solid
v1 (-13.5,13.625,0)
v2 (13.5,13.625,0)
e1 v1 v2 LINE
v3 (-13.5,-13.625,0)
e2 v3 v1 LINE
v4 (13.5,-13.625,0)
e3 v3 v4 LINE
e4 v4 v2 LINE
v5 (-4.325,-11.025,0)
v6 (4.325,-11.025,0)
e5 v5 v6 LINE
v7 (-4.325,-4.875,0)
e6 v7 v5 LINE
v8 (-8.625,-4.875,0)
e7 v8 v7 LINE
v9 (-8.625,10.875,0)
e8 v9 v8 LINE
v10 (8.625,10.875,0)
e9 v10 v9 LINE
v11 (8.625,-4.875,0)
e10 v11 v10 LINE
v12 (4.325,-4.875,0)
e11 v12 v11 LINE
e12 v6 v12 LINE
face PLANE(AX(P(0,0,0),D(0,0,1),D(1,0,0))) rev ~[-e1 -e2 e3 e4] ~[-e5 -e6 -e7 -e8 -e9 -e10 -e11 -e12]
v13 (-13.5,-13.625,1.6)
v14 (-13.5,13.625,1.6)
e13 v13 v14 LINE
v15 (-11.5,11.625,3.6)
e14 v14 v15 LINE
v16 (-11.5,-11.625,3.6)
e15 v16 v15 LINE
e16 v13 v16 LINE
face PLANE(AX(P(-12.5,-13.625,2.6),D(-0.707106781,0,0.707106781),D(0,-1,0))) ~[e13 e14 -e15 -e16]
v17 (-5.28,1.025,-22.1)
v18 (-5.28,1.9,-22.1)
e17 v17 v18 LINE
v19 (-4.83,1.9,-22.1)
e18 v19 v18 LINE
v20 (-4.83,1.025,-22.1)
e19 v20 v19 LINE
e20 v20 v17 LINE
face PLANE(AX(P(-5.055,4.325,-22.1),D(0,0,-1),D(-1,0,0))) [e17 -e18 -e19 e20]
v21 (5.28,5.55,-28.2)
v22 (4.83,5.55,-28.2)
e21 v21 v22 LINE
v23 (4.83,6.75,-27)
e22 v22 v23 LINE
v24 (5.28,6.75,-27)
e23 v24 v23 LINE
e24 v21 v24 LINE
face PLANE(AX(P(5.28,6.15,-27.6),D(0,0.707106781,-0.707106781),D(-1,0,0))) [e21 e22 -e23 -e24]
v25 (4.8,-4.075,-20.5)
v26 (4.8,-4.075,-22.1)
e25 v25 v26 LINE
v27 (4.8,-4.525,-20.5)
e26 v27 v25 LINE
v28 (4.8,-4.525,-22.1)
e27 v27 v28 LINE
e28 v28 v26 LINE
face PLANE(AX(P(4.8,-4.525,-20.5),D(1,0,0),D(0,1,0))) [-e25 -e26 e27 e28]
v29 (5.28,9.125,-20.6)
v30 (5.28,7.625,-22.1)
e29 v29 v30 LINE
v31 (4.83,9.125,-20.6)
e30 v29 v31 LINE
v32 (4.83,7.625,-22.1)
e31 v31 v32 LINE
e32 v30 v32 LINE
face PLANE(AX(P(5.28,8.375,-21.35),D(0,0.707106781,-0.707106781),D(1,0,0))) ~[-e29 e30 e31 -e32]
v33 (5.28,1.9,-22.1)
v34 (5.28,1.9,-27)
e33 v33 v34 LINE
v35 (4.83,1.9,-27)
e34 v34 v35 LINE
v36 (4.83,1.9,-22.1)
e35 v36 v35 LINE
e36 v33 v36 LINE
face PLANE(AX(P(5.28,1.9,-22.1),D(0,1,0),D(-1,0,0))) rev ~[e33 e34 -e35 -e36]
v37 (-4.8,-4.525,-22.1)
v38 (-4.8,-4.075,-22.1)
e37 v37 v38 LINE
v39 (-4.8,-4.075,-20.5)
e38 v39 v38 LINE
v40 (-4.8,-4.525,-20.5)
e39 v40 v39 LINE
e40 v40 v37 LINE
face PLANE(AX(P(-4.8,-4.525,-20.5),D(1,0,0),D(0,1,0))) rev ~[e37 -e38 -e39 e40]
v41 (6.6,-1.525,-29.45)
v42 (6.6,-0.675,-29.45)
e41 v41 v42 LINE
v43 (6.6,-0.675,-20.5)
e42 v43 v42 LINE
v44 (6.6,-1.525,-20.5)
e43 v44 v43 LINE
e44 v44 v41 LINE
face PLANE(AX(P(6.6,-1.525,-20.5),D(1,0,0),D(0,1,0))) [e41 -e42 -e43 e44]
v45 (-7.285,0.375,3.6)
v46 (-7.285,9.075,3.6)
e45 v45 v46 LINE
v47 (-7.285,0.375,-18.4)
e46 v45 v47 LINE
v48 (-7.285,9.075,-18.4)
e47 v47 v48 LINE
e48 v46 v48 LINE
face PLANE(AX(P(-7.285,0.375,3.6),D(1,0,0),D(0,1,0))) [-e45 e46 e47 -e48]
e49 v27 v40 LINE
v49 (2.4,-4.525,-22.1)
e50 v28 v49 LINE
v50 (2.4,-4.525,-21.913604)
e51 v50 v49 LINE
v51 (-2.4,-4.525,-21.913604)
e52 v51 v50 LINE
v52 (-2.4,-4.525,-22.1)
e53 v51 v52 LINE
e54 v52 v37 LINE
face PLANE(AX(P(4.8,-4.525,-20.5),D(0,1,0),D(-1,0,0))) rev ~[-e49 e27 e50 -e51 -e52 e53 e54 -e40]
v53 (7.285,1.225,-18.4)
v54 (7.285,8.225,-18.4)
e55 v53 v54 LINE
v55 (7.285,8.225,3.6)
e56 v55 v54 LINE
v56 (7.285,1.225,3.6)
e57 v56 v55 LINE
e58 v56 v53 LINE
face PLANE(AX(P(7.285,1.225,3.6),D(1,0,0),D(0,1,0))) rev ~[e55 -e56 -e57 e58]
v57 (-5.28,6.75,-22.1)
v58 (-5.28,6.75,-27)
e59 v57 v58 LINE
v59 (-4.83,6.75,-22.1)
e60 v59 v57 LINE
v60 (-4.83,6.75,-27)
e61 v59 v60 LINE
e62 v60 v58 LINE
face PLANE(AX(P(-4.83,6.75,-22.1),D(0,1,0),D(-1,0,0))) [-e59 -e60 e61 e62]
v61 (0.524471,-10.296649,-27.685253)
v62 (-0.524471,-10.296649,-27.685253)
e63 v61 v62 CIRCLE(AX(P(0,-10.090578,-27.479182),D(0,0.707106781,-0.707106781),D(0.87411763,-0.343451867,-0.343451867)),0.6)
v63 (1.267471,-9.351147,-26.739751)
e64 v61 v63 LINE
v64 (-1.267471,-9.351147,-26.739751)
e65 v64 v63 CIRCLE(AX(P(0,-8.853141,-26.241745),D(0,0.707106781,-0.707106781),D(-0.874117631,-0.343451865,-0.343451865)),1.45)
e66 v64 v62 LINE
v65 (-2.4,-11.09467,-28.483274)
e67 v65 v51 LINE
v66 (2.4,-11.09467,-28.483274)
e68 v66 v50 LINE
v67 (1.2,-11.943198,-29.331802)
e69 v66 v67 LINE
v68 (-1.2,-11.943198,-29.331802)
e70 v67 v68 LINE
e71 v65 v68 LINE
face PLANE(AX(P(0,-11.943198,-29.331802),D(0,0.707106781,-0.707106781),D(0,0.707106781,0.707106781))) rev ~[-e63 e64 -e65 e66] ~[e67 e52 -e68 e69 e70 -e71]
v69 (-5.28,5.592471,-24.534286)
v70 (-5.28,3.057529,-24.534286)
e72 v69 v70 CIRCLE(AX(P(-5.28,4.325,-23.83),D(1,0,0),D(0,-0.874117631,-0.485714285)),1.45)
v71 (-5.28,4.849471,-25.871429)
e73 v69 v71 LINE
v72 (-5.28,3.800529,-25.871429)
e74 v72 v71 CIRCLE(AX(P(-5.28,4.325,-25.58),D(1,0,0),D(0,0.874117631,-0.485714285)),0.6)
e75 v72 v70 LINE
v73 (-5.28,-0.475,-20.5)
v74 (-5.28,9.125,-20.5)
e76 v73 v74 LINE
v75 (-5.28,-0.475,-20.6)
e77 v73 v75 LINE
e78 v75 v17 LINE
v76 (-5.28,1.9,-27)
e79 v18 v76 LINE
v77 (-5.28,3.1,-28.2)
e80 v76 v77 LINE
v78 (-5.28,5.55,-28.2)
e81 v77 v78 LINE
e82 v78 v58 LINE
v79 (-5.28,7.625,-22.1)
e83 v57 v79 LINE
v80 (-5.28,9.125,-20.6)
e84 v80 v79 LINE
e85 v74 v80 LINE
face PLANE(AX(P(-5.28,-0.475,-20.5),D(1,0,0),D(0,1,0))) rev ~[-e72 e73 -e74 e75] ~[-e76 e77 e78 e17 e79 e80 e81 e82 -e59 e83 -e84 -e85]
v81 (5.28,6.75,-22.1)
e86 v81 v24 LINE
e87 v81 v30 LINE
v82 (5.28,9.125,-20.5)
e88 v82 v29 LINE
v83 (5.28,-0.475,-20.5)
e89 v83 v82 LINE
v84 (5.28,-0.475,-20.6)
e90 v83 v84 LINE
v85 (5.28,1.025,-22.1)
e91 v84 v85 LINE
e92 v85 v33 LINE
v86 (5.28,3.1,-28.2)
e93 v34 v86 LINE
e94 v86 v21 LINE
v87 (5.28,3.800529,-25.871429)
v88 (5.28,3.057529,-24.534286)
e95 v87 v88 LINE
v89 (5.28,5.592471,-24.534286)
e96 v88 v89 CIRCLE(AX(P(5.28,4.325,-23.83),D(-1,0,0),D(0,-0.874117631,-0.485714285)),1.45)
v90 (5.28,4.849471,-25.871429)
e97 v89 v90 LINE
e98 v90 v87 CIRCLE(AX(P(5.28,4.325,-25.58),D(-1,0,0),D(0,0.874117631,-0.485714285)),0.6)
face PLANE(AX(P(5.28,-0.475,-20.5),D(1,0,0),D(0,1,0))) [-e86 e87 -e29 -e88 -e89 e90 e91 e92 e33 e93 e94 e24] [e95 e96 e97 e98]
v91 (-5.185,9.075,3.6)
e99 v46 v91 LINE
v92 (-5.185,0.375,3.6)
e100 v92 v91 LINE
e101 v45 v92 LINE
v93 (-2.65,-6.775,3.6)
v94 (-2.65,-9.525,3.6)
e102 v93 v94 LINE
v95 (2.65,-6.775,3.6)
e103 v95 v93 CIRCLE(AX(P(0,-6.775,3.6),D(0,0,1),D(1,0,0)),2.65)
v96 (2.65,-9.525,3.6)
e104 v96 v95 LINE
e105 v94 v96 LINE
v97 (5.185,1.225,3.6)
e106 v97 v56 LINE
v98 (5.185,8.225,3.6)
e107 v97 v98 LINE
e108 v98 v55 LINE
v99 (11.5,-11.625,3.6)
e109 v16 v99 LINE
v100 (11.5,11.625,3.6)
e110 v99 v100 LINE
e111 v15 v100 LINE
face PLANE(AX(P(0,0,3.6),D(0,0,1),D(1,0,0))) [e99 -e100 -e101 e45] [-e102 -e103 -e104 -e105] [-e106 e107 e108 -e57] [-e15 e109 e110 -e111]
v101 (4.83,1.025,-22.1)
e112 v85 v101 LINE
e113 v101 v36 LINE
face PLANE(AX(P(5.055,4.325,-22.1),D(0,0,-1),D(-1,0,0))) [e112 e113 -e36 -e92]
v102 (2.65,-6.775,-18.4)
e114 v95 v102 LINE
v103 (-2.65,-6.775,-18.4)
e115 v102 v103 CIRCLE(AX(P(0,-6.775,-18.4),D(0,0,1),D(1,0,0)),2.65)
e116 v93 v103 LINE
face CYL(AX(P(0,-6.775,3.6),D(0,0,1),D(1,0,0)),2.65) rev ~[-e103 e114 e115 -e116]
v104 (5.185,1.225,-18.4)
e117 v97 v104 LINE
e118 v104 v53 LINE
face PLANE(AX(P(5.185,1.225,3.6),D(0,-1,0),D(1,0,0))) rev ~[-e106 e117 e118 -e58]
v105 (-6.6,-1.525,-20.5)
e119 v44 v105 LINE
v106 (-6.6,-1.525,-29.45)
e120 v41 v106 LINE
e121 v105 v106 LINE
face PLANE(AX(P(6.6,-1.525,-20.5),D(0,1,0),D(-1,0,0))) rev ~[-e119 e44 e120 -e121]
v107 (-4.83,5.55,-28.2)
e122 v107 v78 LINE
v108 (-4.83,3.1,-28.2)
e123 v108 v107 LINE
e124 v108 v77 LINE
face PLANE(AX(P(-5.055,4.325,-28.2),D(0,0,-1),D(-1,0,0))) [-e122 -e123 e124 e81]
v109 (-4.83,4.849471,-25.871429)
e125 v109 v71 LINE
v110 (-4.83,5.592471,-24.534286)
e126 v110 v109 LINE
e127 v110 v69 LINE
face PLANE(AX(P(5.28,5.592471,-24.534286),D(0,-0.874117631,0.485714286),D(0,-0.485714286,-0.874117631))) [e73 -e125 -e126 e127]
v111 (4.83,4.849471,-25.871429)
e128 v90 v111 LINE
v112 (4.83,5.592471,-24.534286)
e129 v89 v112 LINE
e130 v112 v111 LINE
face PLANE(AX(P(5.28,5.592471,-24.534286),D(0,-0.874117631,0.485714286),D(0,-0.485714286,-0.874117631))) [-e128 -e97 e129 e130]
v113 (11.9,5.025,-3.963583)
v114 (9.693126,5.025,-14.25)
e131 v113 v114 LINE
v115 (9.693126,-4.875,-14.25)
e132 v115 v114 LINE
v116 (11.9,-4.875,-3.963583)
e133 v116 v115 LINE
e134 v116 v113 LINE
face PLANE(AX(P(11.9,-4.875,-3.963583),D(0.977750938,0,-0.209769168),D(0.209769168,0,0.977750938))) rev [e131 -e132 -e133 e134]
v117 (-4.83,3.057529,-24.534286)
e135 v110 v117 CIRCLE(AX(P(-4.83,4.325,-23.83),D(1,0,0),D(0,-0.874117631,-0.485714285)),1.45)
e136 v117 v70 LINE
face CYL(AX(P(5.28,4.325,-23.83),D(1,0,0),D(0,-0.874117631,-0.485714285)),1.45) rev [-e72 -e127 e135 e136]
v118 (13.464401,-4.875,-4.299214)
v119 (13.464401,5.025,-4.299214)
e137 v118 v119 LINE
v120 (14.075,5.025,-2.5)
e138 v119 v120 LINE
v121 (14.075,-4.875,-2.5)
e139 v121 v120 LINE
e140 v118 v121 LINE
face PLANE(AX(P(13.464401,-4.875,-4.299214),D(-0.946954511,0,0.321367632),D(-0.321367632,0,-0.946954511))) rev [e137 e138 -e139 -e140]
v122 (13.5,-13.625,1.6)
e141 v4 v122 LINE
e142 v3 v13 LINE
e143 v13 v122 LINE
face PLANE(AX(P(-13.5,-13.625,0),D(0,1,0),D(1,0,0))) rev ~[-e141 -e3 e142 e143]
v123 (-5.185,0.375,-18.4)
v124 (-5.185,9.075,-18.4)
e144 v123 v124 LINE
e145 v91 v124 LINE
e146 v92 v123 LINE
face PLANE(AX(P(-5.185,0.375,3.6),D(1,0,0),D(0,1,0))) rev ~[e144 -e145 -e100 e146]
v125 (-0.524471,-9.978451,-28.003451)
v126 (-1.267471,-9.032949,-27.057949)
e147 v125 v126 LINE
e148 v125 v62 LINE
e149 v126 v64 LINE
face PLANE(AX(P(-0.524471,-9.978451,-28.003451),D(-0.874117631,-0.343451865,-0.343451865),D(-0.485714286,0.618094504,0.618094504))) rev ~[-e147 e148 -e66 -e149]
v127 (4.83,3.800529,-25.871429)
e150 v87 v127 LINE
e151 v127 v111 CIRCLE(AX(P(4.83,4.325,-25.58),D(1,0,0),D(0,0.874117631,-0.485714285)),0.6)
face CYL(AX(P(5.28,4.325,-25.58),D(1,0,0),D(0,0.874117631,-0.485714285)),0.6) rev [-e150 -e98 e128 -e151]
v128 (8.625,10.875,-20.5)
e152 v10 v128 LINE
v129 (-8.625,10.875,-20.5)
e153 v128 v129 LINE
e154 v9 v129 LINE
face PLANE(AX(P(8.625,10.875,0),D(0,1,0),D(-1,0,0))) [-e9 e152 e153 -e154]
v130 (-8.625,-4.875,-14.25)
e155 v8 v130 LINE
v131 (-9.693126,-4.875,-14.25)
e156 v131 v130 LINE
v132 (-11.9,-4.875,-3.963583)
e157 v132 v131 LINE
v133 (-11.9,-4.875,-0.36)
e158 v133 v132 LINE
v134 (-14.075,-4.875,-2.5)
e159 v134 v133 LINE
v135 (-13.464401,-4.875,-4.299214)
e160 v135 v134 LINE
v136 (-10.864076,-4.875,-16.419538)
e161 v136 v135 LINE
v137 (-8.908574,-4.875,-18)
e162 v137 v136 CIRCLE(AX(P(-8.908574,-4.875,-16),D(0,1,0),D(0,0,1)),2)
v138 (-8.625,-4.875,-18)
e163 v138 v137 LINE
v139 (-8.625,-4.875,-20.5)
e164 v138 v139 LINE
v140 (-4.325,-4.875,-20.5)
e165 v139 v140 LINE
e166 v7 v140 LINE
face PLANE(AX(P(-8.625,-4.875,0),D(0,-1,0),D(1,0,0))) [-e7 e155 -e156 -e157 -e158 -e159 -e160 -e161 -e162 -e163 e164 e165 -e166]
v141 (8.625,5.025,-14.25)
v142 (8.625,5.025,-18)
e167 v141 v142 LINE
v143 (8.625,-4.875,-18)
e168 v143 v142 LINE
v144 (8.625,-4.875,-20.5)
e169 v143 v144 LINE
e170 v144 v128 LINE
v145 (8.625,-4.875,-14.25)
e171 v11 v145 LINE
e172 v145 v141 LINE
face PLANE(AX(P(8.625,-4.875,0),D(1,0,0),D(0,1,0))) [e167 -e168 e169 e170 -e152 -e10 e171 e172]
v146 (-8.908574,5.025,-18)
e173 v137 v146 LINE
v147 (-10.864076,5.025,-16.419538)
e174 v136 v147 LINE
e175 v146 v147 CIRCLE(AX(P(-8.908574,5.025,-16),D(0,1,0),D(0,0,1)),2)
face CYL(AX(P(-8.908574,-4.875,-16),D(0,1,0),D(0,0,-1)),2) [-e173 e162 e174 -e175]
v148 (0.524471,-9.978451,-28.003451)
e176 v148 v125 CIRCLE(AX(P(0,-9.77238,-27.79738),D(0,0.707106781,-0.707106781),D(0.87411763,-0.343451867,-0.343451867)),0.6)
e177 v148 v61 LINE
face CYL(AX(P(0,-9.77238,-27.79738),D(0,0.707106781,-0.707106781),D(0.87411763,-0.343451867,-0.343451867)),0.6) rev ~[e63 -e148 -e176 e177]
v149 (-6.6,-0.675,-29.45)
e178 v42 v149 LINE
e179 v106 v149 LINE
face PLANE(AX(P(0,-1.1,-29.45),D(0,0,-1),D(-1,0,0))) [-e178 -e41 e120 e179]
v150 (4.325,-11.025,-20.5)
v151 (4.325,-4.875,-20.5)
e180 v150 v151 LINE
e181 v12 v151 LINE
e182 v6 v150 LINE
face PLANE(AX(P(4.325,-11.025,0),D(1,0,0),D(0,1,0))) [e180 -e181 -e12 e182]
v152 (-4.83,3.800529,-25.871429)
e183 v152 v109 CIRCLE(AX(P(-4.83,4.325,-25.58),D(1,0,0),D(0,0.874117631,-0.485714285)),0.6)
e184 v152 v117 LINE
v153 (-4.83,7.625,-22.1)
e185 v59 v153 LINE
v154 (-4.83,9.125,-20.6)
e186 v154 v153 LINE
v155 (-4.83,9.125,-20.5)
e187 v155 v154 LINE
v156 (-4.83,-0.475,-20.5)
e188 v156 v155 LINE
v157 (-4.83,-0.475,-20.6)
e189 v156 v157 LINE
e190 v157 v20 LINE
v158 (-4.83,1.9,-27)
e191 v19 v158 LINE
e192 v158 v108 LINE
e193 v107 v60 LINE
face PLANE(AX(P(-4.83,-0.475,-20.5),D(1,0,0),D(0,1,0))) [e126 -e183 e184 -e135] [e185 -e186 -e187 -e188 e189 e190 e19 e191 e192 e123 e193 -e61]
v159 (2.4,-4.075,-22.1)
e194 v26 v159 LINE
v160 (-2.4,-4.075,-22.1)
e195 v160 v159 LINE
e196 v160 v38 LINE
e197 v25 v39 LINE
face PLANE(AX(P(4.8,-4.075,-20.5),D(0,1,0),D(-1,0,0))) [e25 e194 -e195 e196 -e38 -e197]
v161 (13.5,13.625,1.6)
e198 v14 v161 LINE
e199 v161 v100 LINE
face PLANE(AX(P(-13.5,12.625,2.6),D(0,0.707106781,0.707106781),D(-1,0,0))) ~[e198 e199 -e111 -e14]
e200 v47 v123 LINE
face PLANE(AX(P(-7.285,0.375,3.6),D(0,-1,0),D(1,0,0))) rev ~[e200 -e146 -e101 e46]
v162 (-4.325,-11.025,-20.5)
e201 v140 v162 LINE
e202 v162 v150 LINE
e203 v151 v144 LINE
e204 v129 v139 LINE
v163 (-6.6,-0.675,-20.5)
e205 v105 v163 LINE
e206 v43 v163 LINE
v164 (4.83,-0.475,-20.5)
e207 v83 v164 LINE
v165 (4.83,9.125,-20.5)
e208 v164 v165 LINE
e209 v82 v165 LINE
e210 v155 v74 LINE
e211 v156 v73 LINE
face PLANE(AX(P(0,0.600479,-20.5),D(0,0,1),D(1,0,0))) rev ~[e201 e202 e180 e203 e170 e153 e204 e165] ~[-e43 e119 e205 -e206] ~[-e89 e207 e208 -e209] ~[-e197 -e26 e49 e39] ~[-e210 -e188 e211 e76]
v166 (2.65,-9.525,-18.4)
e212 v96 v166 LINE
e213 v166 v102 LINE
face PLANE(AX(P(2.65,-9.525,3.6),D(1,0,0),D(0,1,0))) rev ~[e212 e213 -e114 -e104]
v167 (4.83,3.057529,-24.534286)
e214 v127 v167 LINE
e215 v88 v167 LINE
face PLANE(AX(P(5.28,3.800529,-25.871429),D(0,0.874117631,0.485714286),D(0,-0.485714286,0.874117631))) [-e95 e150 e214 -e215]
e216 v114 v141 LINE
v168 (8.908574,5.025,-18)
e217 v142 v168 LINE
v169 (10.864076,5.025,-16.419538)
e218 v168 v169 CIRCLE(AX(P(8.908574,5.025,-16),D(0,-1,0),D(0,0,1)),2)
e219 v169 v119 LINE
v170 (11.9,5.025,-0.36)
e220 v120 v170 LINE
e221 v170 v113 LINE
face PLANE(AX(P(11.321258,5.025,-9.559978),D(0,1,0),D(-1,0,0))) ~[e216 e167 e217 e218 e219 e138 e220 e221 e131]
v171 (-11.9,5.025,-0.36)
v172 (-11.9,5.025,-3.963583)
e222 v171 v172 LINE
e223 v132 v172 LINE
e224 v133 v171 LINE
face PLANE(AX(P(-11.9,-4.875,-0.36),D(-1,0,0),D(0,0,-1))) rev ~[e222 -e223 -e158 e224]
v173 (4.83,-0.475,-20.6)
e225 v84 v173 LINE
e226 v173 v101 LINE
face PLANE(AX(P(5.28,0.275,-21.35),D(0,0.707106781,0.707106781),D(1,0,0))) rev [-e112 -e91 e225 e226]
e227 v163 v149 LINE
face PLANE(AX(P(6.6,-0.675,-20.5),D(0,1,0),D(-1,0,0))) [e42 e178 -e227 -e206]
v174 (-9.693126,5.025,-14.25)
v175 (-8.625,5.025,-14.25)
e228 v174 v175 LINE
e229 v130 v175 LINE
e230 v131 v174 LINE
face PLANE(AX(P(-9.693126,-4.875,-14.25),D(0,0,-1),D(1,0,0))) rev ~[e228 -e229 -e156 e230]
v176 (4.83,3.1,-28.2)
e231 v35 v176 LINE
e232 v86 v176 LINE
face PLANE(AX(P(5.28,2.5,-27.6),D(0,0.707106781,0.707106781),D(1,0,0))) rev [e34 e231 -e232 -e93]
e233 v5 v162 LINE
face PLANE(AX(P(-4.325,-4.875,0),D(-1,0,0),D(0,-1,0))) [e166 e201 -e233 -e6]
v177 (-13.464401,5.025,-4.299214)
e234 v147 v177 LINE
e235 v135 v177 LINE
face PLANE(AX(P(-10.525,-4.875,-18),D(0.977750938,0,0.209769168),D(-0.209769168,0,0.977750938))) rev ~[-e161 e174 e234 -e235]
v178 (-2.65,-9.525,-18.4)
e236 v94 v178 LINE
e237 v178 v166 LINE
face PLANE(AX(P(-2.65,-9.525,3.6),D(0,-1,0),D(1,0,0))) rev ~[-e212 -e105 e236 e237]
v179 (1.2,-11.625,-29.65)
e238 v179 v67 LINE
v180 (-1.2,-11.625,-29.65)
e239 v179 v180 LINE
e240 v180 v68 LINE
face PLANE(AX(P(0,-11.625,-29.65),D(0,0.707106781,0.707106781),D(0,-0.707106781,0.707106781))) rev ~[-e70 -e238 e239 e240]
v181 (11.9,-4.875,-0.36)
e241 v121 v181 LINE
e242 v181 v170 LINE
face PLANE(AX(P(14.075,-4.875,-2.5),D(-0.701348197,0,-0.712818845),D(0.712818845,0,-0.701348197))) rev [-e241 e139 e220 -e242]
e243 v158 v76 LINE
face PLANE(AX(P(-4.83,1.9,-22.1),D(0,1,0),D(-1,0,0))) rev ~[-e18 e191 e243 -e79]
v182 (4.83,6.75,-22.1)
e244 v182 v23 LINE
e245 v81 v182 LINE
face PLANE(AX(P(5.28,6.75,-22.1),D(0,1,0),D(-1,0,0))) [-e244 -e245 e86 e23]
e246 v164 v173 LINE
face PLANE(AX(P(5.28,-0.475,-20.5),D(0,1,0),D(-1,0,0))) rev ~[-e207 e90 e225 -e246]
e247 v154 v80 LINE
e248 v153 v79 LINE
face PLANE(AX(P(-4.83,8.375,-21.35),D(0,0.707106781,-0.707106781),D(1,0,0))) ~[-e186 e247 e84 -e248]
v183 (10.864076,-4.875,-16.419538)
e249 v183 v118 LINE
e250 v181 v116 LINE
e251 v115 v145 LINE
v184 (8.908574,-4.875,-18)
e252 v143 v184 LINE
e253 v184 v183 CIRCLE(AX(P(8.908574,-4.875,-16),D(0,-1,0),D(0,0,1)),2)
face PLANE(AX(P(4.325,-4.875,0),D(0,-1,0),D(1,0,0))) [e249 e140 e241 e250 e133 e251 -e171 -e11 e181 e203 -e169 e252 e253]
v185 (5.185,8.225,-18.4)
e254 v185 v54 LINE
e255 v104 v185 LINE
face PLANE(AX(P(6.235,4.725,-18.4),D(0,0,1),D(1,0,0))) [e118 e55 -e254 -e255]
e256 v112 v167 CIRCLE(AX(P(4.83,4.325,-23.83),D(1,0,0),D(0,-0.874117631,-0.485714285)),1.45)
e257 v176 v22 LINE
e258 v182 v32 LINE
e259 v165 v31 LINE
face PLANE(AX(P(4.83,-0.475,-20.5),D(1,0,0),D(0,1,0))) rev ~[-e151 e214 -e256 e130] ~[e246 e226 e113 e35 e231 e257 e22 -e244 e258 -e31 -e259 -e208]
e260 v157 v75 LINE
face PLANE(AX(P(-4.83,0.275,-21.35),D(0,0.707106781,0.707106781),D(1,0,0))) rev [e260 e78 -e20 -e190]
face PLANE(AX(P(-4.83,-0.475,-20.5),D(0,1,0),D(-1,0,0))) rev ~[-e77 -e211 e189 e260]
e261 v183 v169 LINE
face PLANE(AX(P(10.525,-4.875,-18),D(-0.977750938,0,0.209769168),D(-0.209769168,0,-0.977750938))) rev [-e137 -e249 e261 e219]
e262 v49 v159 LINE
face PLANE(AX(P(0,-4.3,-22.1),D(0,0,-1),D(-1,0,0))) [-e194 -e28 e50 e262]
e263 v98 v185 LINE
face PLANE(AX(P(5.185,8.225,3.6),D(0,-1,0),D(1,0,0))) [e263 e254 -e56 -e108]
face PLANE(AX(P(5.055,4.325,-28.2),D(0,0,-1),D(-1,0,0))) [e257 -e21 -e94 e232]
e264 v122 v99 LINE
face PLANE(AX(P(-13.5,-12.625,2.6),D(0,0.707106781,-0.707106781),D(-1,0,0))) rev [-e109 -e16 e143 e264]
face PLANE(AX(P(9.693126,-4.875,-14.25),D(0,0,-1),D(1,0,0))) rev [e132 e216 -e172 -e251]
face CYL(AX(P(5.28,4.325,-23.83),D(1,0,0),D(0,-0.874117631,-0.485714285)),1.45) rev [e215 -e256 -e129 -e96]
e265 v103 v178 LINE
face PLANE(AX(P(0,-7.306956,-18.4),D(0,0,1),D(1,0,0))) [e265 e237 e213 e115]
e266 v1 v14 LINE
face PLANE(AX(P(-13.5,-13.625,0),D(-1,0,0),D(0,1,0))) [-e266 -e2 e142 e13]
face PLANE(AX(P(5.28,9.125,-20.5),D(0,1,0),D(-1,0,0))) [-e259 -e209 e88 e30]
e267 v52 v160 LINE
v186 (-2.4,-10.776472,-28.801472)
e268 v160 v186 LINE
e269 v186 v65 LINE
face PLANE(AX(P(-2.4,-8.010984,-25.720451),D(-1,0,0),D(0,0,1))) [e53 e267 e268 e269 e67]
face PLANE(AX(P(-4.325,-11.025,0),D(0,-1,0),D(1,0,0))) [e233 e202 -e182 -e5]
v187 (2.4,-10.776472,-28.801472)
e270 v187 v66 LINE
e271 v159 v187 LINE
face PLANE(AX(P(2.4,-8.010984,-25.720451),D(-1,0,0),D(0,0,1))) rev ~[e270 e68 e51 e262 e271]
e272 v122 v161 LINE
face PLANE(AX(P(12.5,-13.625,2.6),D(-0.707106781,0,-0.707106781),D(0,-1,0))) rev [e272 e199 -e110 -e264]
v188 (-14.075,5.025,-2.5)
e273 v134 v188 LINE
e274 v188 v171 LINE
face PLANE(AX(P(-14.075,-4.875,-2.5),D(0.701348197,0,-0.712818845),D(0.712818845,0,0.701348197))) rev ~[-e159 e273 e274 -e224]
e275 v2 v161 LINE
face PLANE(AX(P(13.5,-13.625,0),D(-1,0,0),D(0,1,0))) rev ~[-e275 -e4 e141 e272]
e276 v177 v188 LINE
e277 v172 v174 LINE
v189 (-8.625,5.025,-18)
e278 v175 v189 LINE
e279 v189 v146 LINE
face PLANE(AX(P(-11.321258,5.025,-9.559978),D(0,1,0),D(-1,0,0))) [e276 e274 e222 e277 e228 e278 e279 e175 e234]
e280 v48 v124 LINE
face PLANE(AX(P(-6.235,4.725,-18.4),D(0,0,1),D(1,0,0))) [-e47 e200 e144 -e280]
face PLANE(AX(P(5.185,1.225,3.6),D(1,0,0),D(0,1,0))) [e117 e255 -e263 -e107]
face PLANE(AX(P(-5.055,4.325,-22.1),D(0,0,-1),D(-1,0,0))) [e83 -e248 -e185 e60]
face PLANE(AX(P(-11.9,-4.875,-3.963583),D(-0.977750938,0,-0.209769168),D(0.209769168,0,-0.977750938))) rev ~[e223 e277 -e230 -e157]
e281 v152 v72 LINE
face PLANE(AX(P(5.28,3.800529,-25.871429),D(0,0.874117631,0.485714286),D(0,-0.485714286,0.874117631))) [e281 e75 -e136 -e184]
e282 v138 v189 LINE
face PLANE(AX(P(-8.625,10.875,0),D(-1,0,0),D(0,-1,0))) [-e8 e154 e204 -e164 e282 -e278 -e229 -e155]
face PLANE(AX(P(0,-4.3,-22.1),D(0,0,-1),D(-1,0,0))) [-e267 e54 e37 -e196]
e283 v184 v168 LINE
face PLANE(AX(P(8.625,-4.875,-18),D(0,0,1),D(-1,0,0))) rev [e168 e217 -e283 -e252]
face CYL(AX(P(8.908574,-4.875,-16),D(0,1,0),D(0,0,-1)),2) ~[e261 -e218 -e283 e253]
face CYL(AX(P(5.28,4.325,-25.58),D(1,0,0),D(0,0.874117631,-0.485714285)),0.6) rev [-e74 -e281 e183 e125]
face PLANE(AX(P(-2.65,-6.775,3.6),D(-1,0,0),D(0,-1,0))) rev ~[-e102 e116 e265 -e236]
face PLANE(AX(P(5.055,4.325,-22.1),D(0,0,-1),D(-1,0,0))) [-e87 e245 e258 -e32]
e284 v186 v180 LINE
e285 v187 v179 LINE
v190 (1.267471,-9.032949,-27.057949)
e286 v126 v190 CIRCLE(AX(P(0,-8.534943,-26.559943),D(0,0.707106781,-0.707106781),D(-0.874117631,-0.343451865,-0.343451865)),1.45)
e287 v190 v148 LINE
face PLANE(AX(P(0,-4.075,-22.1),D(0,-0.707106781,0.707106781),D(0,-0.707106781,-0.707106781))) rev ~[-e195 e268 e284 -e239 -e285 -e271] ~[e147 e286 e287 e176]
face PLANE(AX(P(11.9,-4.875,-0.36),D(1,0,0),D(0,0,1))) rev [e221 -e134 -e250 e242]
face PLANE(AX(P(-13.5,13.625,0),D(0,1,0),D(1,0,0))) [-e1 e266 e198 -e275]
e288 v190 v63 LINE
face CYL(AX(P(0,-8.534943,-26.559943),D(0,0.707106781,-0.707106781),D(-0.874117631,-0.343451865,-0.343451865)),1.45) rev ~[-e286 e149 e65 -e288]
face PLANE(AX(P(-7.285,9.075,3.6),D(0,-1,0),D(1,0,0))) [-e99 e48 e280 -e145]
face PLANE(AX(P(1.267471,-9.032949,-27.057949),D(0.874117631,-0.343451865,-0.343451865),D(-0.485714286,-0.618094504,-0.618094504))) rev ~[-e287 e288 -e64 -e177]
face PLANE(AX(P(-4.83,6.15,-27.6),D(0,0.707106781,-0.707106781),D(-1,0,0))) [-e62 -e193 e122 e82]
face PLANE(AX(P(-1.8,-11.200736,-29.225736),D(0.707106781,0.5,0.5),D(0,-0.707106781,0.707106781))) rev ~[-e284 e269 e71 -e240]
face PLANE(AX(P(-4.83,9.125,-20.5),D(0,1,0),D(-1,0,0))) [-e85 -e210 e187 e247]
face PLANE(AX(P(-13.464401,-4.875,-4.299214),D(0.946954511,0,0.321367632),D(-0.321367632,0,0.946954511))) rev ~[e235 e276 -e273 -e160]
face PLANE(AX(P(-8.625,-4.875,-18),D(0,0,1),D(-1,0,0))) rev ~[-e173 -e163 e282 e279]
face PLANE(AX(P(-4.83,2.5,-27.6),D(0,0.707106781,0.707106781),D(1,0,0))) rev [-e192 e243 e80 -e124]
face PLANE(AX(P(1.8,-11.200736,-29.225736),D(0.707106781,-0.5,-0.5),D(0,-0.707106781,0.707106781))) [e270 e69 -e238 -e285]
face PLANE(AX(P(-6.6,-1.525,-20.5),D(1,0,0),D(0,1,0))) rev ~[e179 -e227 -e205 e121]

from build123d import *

# Parameters (mm, degrees)
SKETCH1_W           = 27
SKETCH1_H           = 27.25
BOSS_EXTRUDE1_DEPTH = 3.6
CHAMFER1_SIZE       = 2
BOSS_EXTRUDE2_DEPTH = 20.5
CUT_EXTRUDE1_START  = 3.6
SKETCH1_3_W         = 2.1
SKETCH1_3_H         = 8.7
SKETCH1_3_H_2       = 7
CUT_EXTRUDE1_DEPTH  = 22
SKETCH3_W           = 0.45
SKETCH3_H           = 9.6
SKETCH3_W_2         = 9.6
SKETCH3_H_2         = 0.45
BOSS_EXTRUDE3_DEPTH = 1.6
CHAMFER2_SIZE       = 1.5
SKETCH4_W           = 0.45
SKETCH4_H           = 4.85
BOSS_EXTRUDE4_DEPTH = 6.1
BOSS_EXTRUDE5_DEPTH = 2.4
SKETCH6_W           = 13.2
SKETCH6_H           = 0.85
BOSS_EXTRUDE6_DEPTH = 8.95
CHAMFER3_SIZE       = 1.2
CUT_EXTRUDE2_DEPTH  = 38.649057425
CUT_EXTRUDE3_REACH  = 35.476
BOSS_EXTRUDE7_DEPTH = 9.9
FILLET1_R           = 2


with BuildPart() as part:
    # Sketch1 → Boss-Extrude1 (new body)
    with BuildSketch(Plane.XY):
        Rectangle(SKETCH1_W, SKETCH1_H)
    extrude(amount=BOSS_EXTRUDE1_DEPTH)

    # Chamfer1
    chamfer1_edges = [part.edges().sort_by_distance(p)[0] for p in [
        (13.5, 0, 3.6),
        (0, -13.625, 3.6),
        (-13.5, 0, 3.6),
        (0, 13.625, 3.6),
    ]]
    chamfer(chamfer1_edges, length=CHAMFER1_SIZE)

    # Sketch2 → Boss-Extrude2 (add)
    with BuildSketch(Plane(origin=(0, 0, 0), x_dir=(-1, 0, 0), z_dir=(0, 0, -1))):
        Polygon((-8.625, 10.875), (8.625, 10.875), (8.625, -4.875), (4.325, -4.875), (4.325, -11.025), (-4.325, -11.025), (-4.325, -4.875), (-8.625, -4.875), align=None)
    extrude(amount=BOSS_EXTRUDE2_DEPTH)

    # Sketch1<3> → Cut-Extrude1 (cut)
    with BuildSketch(Plane.XY.offset(CUT_EXTRUDE1_START)):
        with Locations((-6.235, 4.725)):
            Rectangle(SKETCH1_3_W, SKETCH1_3_H)
        with Locations((6.235, 4.725)):
            Rectangle(SKETCH1_3_W, SKETCH1_3_H_2)
        with BuildLine():
            Line((2.65, -9.525), (2.65, -6.775))
            ThreePointArc((2.65, -6.775), (0, -4.125), (-2.65, -6.775))
            Line((-2.65, -6.775), (-2.65, -9.525))
            Line((-2.65, -9.525), (2.65, -9.525))
        make_face()
    extrude(amount=-CUT_EXTRUDE1_DEPTH, mode=Mode.SUBTRACT)

    # Sketch3 → Boss-Extrude3 (add)
    with BuildSketch(Plane(origin=(0, 0, -20.5), x_dir=(-1, 0, 0), z_dir=(0, 0, -1))):
        with Locations((-5.055, 4.325)):
            Rectangle(SKETCH3_W, SKETCH3_H)
        with Locations((5.055, 4.325)):
            Rectangle(SKETCH3_W, SKETCH3_H)
        with Locations((0, -4.3)):
            Rectangle(SKETCH3_W_2, SKETCH3_H_2)
    extrude(amount=BOSS_EXTRUDE3_DEPTH)

    # Chamfer2
    chamfer2_edges = [part.edges().sort_by_distance(p)[0] for p in [
        (-5.055, 9.125, -22.1),
        (5.055, 9.125, -22.1),
        (5.055, -0.475, -22.1),
        (-5.055, -0.475, -22.1),
    ]]
    chamfer(chamfer2_edges, length=CHAMFER2_SIZE)

    # Sketch4 → Boss-Extrude4 (add)
    with BuildSketch(Plane(origin=(0, 0, -22.1), x_dir=(-1, 0, 0), z_dir=(0, 0, -1))):
        with Locations((-5.055, 4.325)):
            Rectangle(SKETCH4_W, SKETCH4_H)
        with Locations((5.055, 4.325)):
            Rectangle(SKETCH4_W, SKETCH4_H)
    extrude(amount=BOSS_EXTRUDE4_DEPTH)

    # Sketch5 → Boss-Extrude5 (add, symmetric)
    with BuildSketch(Plane(origin=(0, 0, 0), x_dir=(0, 0, -1), z_dir=(1, 0, 0))):
        Polygon((22.1, -4.075), (29.65, -11.625), (29.331801948, -11.943198052), (21.913603897, -4.525), (22.1, -4.525), align=None)
    extrude(amount=BOSS_EXTRUDE5_DEPTH, both=True)

    # Sketch6 → Boss-Extrude6 (add)
    with BuildSketch(Plane(origin=(0, 0, -20.5), x_dir=(-1, 0, 0), z_dir=(0, 0, -1))):
        with Locations((0, -1.1)):
            Rectangle(SKETCH6_W, SKETCH6_H)
    extrude(amount=BOSS_EXTRUDE6_DEPTH)

    # Chamfer3
    chamfer3_edges = [part.edges().sort_by_distance(p)[0] for p in [
        (5.055, 6.75, -28.2),
        (5.055, 1.9, -28.2),
        (-5.055, 6.75, -28.2),
        (-5.055, 1.9, -28.2),
        (-2.4, -11.784099026, -29.490900974),
        (2.4, -11.784099026, -29.490900974),
    ]]
    chamfer(chamfer3_edges, length=CHAMFER3_SIZE)

    # Sketch7 → Cut-Extrude2 (cut, through all)
    with BuildSketch(Plane(origin=(5.28, 0, 0), x_dir=(0, 0, -1), z_dir=(1, 0, 0))):
        with BuildLine():
            Line((24.534285714, 5.592470565), (25.871428571, 4.849470579))
            ThreePointArc((25.871428571, 4.849470579), (26.18, 4.325), (25.871428571, 3.800529421))
            Line((25.871428571, 3.800529421), (24.534285714, 3.057529435))
            ThreePointArc((24.534285714, 3.057529435), (22.38, 4.325), (24.534285714, 5.592470565))
        make_face()
    extrude(amount=-CUT_EXTRUDE2_DEPTH, mode=Mode.SUBTRACT)

    # Sketch8 → Cut-Extrude3 (cut, up to next)
    with BuildSketch(Plane(origin=(0, 9.0125, -9.0125), x_dir=(1, 0, 0), z_dir=(0, 0.7071067811865465, -0.7071067811865487)), mode=Mode.PRIVATE) as cut_extrude3_sk1:
        with BuildLine():
            Line((-0.524470579, 26.857260965), (-1.267470565, 25.520118108))
            ThreePointArc((-1.267470565, 25.520118108), (0, 23.365832393), (1.267470565, 25.520118108))
            Line((1.267470565, 25.520118108), (0.524470579, 26.857260965))
            ThreePointArc((0.524470579, 26.857260965), (0, 27.165832393), (-0.524470579, 26.857260965))
        make_face()
    cut_extrude3_tool1 = extrude(cut_extrude3_sk1.sketch, amount=-CUT_EXTRUDE3_REACH, mode=Mode.PRIVATE) & part.part
    add(cut_extrude3_tool1.solids().sort_by_distance((0, -8.733008, -26.758008))[0], mode=Mode.SUBTRACT)

    # Sketch9 → Boss-Extrude7 (add)
    with BuildSketch(Plane.XZ.offset(4.875)):
        Polygon((-8.625, -18), (-10.525, -18), (-13.4644015, -4.29921357), (-14.075, -2.5), (-11.9, -0.36), (-11.9, -3.963582901), (-9.693125963, -14.25), (-8.625, -14.25), align=None)
    boss_extrude7 = extrude(amount=-BOSS_EXTRUDE7_DEPTH)

    # Mirror1: Boss-Extrude7 across plane
    add(boss_extrude7.mirror(Plane(origin=(0, 0, 0), x_dir=(0, 0, 1), z_dir=(1, 0, 0))))

    # Fillet1
    fillet1_edges = [part.edges().sort_by_distance(p)[0] for p in [
        (-10.525, 0.075, -18),
        (10.525, 0.075, -18),
    ]]
    fillet(fillet1_edges, radius=FILLET1_R)


solid = part.part
